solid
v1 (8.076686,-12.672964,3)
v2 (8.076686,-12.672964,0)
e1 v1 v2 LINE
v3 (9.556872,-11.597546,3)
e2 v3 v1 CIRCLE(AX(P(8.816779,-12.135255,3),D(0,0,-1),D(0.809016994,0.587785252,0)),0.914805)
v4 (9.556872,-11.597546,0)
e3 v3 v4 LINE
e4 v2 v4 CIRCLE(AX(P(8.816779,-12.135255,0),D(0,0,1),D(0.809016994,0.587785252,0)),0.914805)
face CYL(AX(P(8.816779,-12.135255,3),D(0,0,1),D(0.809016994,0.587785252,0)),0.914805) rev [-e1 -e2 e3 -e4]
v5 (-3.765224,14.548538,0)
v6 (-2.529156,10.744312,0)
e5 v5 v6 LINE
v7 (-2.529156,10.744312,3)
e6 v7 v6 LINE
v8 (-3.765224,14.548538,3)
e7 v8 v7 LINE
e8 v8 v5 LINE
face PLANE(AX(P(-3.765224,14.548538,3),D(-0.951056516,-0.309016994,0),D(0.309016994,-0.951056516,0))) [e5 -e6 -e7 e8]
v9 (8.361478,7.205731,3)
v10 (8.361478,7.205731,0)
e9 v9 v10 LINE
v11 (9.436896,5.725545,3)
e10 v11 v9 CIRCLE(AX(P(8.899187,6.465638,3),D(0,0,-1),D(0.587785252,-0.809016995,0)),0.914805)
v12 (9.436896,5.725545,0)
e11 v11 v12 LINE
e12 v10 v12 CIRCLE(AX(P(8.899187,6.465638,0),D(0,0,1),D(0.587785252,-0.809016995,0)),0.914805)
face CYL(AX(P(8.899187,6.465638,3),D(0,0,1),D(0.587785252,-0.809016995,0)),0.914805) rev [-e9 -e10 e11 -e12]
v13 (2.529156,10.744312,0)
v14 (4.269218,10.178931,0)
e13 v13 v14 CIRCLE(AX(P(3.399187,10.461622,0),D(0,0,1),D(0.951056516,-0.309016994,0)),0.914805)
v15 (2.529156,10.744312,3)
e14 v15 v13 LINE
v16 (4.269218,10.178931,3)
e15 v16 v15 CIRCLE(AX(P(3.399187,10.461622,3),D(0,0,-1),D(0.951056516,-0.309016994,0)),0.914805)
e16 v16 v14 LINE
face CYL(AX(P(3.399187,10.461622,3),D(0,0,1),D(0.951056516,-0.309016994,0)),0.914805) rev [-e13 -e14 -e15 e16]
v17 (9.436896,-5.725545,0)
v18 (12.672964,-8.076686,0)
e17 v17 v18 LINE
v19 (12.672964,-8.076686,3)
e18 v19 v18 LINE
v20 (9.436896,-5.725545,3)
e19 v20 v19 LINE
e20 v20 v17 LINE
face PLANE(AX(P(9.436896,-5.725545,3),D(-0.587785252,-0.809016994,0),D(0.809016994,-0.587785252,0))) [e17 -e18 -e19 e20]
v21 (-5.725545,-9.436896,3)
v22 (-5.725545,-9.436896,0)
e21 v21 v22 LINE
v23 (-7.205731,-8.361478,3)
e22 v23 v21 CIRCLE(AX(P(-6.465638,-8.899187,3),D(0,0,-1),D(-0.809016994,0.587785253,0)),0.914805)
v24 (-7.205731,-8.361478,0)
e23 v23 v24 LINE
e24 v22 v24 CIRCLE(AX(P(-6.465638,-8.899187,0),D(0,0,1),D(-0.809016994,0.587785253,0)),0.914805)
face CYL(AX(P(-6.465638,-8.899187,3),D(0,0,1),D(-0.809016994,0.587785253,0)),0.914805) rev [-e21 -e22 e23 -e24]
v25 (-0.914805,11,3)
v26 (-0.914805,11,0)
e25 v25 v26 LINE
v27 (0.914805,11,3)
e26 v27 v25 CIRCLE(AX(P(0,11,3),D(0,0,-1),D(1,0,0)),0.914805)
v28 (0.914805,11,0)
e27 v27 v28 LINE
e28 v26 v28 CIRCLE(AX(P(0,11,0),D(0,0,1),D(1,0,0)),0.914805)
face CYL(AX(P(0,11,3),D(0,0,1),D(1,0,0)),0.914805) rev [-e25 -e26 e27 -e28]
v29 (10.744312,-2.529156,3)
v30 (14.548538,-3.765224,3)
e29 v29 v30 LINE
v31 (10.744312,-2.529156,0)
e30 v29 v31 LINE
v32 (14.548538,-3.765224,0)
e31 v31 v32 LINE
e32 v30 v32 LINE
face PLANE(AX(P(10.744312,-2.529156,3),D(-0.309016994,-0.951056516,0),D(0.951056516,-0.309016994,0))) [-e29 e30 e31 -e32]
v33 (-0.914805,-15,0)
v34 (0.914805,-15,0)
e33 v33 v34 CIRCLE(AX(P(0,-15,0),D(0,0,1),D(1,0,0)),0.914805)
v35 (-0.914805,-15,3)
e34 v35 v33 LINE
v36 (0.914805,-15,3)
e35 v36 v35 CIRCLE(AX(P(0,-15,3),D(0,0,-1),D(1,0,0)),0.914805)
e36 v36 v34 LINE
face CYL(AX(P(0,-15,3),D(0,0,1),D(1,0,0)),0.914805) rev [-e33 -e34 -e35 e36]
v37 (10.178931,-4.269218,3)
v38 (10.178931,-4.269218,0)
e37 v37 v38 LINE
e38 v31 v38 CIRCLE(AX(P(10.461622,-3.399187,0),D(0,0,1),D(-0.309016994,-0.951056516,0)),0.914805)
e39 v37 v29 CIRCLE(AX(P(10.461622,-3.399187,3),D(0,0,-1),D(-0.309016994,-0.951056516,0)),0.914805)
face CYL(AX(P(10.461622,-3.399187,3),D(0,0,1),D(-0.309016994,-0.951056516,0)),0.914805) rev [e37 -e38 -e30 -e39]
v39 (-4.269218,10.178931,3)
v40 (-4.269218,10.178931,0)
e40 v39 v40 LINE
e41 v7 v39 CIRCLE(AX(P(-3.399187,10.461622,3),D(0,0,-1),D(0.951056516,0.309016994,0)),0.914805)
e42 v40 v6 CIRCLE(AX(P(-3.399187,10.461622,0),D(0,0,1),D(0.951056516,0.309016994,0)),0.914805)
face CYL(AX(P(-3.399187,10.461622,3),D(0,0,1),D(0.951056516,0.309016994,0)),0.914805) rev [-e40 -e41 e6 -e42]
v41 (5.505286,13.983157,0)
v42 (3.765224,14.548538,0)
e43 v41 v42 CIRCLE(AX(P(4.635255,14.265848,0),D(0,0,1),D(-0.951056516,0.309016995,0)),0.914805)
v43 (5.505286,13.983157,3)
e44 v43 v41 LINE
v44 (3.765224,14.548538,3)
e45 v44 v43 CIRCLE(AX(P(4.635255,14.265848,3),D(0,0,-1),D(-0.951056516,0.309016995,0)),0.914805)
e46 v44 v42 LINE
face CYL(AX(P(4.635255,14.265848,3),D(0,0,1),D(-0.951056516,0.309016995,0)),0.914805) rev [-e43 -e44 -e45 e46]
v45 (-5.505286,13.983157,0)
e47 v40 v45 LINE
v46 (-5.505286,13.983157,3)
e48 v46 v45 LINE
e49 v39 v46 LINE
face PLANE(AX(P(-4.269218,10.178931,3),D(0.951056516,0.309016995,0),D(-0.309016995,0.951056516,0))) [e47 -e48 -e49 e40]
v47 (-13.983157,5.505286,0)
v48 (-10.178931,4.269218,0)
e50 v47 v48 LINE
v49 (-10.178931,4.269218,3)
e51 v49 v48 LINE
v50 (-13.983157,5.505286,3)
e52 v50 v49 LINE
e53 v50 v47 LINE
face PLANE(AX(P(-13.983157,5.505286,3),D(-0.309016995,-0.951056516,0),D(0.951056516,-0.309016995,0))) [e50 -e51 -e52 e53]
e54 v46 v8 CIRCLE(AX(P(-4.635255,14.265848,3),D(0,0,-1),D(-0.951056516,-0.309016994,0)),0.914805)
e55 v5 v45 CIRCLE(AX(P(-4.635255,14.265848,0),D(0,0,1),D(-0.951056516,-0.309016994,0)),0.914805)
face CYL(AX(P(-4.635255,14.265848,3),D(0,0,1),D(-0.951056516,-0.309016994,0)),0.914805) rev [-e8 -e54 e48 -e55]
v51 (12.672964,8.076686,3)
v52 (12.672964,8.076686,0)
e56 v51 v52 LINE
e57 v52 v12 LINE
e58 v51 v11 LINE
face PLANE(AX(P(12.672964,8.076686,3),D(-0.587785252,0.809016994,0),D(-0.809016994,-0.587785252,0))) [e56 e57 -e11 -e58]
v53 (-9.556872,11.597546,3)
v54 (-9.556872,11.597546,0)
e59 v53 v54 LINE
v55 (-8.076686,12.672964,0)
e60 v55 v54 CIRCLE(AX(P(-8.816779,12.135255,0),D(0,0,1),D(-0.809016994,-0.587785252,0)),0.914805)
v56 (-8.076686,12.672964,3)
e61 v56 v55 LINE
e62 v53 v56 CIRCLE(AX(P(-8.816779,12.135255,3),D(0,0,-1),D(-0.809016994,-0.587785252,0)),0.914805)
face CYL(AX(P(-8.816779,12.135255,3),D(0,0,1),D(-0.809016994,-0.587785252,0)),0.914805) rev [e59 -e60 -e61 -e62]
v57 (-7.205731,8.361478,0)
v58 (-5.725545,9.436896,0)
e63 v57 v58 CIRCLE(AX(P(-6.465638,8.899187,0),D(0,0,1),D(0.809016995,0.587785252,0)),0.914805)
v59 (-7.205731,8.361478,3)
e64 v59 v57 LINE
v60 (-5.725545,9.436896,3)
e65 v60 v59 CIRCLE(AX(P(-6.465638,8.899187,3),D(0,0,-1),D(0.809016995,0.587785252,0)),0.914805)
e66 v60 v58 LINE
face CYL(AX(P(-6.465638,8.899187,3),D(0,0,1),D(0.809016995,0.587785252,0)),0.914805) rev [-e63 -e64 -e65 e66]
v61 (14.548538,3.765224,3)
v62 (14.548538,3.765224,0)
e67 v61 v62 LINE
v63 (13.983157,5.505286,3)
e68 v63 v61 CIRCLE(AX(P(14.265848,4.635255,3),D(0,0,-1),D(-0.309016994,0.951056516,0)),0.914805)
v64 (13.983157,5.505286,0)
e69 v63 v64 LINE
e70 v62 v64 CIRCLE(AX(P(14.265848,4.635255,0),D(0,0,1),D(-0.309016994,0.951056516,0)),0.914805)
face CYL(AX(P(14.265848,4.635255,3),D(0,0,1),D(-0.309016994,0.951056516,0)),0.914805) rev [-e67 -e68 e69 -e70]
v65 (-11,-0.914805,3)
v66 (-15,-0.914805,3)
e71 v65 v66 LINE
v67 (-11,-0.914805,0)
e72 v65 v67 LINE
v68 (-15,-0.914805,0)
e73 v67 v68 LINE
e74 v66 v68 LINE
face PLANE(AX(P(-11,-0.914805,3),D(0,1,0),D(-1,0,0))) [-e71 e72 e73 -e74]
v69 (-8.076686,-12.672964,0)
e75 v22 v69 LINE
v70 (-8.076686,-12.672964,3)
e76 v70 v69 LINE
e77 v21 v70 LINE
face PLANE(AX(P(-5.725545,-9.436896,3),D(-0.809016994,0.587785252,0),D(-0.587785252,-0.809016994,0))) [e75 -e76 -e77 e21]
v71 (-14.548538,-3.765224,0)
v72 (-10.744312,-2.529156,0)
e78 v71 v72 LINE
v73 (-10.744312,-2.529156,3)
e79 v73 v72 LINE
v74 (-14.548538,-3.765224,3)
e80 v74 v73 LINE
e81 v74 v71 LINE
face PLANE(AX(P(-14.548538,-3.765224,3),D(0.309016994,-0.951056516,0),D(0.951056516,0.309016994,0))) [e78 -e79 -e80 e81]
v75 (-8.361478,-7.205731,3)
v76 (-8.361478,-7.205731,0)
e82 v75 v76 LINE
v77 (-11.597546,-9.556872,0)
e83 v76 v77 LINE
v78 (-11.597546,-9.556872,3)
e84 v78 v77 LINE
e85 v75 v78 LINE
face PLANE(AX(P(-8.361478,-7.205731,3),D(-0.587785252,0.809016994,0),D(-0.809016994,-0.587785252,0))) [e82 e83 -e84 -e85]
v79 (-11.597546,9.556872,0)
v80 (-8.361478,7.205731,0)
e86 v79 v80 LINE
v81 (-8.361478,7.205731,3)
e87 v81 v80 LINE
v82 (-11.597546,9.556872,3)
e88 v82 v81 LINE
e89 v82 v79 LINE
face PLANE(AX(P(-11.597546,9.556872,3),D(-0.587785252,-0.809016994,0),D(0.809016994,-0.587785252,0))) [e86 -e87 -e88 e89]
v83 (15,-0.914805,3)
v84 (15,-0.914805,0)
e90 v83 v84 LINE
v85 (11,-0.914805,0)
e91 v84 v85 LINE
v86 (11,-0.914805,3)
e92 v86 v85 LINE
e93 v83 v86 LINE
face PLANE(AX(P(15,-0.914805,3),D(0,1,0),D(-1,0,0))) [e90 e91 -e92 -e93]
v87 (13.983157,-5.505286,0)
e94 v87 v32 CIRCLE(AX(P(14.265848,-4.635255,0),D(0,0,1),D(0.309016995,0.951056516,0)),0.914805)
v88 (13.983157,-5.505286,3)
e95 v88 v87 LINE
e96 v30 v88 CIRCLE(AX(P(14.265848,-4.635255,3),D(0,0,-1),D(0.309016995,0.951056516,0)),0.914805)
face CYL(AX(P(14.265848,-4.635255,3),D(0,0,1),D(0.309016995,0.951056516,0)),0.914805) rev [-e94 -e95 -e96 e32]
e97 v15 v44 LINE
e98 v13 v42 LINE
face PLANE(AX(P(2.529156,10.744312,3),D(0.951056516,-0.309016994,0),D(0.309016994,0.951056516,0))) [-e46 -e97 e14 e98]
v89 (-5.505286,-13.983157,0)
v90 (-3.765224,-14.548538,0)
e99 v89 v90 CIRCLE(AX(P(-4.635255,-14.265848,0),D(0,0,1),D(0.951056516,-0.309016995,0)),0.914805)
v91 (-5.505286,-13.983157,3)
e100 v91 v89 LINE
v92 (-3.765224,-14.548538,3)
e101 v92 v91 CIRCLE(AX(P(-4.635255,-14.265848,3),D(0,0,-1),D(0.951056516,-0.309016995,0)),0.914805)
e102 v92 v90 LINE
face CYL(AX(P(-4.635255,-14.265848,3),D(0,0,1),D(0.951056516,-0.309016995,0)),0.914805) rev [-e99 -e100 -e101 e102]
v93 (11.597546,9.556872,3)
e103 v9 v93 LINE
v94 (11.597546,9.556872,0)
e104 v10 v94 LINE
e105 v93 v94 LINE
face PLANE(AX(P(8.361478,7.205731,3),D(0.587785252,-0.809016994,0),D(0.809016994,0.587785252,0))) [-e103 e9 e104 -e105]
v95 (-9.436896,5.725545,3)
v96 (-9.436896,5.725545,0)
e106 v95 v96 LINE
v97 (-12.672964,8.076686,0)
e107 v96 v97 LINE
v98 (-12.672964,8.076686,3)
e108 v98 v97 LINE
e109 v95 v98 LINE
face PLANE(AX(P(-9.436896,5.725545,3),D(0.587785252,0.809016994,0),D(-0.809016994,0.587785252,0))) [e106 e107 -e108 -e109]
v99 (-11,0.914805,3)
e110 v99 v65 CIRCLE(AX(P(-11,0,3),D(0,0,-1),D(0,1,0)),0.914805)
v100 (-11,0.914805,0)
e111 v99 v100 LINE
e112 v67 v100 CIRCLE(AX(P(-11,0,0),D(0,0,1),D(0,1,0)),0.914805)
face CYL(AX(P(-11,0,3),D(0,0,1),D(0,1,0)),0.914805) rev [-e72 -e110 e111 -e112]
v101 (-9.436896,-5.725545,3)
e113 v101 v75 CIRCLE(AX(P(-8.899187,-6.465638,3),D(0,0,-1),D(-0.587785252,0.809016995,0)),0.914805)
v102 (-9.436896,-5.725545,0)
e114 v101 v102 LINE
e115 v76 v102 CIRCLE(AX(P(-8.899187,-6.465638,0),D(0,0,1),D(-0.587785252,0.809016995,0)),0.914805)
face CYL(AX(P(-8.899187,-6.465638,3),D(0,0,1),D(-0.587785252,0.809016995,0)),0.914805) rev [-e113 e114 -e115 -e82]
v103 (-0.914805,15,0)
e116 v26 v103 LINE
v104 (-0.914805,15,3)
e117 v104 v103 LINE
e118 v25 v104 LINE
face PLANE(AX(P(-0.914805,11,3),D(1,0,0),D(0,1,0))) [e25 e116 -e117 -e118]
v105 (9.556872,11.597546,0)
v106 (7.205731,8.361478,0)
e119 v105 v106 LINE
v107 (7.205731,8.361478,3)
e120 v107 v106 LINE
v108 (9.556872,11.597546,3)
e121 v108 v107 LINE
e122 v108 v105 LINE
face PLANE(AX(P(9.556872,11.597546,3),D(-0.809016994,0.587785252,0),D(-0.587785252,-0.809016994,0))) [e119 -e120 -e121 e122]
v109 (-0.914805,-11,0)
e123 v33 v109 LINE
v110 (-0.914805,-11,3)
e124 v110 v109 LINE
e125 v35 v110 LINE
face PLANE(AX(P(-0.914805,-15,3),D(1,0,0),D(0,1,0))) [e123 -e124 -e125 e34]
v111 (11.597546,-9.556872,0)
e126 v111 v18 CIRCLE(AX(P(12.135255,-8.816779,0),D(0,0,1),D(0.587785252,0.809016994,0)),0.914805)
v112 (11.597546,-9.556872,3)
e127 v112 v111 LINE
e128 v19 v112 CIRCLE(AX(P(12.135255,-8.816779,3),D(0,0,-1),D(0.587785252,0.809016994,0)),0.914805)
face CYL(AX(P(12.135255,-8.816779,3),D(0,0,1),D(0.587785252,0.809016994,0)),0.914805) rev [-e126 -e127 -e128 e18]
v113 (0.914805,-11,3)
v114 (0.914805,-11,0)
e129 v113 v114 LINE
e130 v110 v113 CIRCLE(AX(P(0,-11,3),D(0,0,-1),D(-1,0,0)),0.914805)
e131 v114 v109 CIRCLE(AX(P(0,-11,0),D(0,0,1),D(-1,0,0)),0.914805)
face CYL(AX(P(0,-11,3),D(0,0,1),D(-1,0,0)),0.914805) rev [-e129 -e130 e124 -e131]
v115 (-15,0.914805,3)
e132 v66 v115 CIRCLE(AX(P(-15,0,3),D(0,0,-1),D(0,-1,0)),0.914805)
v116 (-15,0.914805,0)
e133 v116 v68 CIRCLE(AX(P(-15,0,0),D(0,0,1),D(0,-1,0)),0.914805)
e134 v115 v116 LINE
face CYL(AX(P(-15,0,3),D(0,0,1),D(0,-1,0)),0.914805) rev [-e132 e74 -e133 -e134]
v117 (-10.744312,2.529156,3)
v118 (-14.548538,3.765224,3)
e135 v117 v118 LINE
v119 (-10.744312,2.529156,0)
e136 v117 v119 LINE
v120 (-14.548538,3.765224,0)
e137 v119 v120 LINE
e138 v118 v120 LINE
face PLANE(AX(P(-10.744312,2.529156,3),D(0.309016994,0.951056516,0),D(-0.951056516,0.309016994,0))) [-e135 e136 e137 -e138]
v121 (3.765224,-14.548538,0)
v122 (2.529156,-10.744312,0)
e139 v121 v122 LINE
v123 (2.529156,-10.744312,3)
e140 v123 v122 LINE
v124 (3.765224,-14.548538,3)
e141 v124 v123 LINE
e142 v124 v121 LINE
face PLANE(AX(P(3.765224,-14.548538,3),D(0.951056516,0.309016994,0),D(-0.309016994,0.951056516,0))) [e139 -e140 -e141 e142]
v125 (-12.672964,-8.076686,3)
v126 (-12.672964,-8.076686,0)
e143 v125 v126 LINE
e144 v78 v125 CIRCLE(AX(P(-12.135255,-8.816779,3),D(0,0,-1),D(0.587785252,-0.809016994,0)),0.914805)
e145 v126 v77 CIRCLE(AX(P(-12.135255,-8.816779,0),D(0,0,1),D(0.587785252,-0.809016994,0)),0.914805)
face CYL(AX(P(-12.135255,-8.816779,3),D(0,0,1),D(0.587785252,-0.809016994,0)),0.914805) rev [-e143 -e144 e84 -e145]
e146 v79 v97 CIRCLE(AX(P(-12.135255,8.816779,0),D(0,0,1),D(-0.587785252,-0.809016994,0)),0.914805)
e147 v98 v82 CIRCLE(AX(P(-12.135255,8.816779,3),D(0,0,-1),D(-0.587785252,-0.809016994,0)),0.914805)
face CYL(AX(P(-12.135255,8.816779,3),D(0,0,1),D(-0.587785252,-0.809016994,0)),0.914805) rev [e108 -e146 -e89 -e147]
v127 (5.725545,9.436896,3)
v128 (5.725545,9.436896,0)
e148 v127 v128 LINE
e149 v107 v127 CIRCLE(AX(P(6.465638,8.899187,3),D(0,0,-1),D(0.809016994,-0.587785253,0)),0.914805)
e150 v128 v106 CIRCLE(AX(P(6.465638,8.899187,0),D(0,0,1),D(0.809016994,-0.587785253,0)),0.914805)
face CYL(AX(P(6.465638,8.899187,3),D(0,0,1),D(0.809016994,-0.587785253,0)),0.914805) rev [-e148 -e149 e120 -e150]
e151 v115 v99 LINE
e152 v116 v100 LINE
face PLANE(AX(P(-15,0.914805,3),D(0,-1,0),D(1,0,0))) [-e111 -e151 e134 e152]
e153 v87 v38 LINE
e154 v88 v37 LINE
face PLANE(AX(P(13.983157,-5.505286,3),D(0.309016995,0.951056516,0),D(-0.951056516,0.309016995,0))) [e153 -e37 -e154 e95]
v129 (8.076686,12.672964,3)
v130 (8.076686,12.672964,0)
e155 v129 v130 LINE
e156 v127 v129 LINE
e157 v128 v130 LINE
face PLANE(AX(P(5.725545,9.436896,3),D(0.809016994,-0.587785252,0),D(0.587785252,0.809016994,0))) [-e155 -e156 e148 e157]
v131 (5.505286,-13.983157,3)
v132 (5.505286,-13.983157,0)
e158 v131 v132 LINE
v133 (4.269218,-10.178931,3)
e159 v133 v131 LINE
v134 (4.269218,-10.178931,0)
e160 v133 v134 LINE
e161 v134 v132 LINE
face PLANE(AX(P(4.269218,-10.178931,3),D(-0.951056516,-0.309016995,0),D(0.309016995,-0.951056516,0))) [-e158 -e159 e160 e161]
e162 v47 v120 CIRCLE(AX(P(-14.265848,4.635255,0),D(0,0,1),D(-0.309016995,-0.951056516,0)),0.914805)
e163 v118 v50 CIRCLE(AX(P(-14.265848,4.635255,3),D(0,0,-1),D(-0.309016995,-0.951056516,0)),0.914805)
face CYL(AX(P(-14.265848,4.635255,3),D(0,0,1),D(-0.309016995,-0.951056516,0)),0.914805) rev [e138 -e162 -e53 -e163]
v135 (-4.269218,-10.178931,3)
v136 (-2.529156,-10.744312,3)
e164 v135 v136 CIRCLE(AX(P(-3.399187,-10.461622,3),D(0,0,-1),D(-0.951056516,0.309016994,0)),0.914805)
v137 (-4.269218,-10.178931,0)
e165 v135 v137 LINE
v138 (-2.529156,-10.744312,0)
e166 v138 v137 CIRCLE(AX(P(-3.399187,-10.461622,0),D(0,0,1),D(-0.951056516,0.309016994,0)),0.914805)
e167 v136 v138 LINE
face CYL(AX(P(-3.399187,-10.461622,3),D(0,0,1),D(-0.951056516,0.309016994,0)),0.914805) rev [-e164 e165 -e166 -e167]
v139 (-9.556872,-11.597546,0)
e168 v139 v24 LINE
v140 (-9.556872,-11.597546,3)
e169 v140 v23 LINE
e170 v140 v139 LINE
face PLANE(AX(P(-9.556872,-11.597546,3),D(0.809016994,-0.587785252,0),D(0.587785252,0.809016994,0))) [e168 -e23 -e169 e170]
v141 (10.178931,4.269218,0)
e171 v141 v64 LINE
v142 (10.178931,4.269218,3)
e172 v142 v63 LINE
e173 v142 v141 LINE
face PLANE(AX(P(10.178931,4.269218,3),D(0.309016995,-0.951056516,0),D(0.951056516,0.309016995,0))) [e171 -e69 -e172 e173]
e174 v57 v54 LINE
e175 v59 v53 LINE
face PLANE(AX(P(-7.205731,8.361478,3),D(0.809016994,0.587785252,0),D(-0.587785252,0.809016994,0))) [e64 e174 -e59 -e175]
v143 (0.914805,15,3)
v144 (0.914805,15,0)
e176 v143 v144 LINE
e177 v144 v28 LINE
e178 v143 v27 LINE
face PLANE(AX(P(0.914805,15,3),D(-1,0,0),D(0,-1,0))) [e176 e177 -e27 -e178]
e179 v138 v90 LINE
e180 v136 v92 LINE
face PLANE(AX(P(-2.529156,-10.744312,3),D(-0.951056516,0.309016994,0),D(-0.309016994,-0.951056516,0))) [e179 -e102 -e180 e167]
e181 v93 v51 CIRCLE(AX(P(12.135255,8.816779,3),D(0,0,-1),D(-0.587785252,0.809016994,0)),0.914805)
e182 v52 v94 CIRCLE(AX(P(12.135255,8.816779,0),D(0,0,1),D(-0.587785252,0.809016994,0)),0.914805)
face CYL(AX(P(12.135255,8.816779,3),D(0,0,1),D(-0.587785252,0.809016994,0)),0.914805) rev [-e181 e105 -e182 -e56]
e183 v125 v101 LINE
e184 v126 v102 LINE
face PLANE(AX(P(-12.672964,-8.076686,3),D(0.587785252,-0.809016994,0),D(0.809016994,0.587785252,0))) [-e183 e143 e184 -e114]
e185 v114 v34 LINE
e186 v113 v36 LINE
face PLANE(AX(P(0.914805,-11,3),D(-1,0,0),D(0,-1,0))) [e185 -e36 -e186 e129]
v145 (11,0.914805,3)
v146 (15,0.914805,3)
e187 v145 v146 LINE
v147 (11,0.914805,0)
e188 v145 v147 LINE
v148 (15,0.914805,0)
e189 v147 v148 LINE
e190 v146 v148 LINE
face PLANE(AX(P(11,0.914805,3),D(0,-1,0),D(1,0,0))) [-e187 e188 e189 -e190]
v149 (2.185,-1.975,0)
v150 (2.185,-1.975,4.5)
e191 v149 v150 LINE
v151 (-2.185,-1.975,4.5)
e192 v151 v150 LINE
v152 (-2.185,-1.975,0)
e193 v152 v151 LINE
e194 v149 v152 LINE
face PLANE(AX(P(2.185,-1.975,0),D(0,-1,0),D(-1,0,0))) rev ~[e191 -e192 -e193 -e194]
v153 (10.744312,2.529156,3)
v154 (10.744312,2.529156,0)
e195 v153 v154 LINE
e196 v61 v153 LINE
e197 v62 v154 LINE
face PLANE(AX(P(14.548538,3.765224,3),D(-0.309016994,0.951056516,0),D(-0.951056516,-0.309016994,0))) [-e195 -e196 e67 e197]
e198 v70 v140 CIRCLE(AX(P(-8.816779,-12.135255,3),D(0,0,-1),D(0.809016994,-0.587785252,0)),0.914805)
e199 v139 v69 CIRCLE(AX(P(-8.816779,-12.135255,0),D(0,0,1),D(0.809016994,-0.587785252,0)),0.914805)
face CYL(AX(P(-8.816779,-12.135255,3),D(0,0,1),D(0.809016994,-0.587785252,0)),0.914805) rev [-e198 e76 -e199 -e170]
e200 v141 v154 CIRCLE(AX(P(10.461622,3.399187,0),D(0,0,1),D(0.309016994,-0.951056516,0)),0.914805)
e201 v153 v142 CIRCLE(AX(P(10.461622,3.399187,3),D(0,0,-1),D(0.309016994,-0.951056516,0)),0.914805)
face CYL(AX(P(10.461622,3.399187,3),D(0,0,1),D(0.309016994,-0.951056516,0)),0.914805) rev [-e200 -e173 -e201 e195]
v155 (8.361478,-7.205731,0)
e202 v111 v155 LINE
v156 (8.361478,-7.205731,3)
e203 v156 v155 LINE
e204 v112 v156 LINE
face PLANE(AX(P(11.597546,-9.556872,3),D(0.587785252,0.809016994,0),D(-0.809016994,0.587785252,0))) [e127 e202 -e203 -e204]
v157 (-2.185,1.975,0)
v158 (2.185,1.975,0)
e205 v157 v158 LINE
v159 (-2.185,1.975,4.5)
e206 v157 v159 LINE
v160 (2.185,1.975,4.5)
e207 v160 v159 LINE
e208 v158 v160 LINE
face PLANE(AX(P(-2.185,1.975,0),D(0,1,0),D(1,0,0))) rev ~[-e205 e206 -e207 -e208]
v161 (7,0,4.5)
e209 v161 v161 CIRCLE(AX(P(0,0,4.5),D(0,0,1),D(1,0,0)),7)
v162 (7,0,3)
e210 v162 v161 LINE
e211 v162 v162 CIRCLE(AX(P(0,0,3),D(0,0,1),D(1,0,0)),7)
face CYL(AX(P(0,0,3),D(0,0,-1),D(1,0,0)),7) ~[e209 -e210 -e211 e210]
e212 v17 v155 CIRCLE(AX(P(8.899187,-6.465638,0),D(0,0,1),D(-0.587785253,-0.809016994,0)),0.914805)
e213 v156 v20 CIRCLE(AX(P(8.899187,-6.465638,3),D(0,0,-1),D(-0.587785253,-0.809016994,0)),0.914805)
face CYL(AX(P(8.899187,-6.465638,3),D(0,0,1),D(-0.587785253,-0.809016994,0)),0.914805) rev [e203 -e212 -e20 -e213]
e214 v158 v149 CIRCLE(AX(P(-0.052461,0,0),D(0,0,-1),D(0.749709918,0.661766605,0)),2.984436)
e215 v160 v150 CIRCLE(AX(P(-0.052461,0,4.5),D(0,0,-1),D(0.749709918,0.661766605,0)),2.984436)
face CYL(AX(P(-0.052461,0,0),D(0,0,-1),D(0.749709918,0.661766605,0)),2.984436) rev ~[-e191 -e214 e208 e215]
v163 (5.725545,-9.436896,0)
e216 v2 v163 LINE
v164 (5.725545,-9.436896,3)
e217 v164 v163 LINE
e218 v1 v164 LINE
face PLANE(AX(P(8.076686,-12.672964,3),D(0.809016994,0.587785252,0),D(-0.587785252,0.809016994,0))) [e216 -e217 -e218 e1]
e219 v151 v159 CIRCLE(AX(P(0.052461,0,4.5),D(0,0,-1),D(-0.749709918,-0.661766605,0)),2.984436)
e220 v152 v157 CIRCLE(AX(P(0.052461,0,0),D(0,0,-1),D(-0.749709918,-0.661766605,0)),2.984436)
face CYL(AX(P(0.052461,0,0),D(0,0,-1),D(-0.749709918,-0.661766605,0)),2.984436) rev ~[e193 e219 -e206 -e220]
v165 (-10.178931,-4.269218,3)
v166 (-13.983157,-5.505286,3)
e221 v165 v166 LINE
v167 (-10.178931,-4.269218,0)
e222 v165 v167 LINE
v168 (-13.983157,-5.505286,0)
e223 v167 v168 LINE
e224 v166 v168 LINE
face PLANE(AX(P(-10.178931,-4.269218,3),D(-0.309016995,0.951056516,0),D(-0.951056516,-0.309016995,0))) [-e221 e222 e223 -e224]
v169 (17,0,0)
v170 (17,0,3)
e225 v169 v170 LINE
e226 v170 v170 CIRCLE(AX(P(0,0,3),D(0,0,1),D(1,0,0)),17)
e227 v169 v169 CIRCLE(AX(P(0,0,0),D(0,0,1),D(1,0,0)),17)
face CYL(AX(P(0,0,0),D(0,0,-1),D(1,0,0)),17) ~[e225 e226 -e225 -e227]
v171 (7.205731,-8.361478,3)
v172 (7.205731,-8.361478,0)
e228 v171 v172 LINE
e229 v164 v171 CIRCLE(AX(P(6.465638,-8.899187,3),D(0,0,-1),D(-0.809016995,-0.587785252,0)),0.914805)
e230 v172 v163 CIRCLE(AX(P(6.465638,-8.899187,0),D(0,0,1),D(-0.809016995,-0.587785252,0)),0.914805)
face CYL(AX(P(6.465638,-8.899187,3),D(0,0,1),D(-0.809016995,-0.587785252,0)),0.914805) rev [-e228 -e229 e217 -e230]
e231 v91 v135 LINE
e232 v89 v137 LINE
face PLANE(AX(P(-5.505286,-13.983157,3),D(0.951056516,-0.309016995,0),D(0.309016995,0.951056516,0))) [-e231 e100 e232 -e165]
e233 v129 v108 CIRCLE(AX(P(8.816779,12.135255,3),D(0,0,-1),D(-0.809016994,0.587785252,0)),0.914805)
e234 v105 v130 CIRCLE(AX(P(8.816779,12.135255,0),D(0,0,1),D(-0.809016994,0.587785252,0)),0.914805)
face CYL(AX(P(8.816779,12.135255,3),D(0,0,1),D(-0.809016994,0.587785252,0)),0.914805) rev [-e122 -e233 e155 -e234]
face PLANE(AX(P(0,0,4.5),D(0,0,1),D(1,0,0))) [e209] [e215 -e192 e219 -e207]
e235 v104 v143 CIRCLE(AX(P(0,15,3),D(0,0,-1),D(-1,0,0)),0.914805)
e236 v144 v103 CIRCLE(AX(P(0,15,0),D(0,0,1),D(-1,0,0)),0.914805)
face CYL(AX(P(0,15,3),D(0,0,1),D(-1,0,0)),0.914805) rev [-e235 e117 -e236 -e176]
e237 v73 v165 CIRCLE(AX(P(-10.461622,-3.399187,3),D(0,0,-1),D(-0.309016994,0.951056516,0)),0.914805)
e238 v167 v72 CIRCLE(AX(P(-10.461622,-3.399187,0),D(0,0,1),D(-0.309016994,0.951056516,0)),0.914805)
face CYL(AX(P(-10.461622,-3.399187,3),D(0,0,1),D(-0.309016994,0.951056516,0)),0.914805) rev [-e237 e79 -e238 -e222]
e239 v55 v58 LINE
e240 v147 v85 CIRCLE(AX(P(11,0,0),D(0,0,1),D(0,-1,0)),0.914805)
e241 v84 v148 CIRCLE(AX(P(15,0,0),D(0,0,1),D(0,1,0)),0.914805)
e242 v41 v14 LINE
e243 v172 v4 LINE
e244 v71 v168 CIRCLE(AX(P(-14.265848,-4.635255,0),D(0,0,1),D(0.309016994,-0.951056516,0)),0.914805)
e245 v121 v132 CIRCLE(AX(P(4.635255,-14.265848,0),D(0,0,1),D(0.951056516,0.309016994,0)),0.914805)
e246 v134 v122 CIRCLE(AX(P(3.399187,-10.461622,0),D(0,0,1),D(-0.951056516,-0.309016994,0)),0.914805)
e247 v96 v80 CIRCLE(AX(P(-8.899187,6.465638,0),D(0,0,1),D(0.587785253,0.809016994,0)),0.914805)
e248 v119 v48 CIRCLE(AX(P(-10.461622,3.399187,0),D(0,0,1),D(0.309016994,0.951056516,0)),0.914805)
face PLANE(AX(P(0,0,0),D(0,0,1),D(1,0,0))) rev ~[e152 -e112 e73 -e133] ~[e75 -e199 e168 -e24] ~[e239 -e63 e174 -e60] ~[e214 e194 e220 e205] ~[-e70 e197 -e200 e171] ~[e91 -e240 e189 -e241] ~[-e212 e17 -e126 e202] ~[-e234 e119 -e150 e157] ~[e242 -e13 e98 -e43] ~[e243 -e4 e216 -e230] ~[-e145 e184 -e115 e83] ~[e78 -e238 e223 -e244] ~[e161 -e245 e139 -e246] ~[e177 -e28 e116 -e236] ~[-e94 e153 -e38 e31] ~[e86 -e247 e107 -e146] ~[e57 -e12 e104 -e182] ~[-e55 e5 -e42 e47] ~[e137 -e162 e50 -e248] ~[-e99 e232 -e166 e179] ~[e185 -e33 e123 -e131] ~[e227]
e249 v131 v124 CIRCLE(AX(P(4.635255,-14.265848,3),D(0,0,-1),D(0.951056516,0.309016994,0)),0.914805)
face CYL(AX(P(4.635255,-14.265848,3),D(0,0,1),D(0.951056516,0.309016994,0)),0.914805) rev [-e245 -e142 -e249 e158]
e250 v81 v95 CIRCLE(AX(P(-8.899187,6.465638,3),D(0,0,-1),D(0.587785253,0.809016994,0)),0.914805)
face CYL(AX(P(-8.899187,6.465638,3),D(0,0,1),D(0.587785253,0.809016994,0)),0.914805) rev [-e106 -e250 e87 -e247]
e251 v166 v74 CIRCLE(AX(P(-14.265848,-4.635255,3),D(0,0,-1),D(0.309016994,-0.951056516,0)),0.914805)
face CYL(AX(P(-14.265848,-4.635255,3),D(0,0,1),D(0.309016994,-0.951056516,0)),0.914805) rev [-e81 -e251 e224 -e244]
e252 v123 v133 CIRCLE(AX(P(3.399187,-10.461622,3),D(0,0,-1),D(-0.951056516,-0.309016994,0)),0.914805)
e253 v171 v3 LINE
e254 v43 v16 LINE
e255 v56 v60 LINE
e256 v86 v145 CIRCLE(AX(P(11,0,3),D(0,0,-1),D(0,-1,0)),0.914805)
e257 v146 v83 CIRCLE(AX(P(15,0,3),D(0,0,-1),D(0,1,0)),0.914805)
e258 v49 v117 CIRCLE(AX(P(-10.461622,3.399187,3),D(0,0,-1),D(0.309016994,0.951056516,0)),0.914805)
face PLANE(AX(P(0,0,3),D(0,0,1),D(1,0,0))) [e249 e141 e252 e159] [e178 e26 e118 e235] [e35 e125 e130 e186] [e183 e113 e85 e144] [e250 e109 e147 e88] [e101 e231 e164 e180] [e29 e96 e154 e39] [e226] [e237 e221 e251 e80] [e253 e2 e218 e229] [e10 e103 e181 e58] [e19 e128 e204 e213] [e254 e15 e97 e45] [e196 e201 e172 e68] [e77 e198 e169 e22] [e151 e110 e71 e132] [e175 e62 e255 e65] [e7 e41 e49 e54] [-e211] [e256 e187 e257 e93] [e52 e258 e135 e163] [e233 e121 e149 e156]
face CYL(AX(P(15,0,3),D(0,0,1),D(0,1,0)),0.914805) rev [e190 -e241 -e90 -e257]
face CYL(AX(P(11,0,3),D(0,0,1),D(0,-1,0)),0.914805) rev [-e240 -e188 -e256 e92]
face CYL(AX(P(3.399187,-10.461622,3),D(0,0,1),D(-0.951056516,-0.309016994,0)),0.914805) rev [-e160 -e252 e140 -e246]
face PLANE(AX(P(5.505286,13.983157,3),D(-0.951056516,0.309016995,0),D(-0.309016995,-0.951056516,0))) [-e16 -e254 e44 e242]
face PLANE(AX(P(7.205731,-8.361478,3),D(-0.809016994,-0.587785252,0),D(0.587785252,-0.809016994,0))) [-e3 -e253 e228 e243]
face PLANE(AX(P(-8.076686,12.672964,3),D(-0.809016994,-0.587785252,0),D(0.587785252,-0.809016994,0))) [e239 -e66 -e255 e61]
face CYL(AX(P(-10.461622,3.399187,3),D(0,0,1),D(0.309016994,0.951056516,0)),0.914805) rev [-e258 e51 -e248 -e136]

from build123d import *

# Parameters (mm, degrees)
SKETCH4_R           = 17
BOSS_EXTRUDE2_DEPTH = 3
SKETCH5_R           = 7
BOSS_EXTRUDE3_DEPTH = 1.5
CUT_EXTRUDE2_DEPTH  = 25.459149617
CUT_EXTRUDE3_DEPTH  = 25.228082879


with BuildPart() as part:
    # Sketch4 → Boss-Extrude2 (new body)
    with BuildSketch(Plane.XY):
        Circle(SKETCH4_R)
    extrude(amount=BOSS_EXTRUDE2_DEPTH)

    # Sketch5 → Boss-Extrude3 (add)
    with BuildSketch(Plane.XY.offset(3)):
        Circle(SKETCH5_R)
    extrude(amount=BOSS_EXTRUDE3_DEPTH)

    # Sketch3 → Cut-Extrude2 (cut, through all)
    with BuildSketch(Plane(origin=(0, 0, 0), x_dir=(-1, 0, 0), z_dir=(0, 0, 1))):
        with BuildLine():
            Line((-2.185, 1.975), (2.185, 1.975))
            ThreePointArc((2.185, 1.975), (2.931974702, 0), (2.185, -1.975))
            Line((2.185, -1.975), (-2.185, -1.975))
            ThreePointArc((-2.185, -1.975), (-2.931974702, 0), (-2.185, 1.975))
        make_face()
    extrude(amount=CUT_EXTRUDE2_DEPTH, mode=Mode.SUBTRACT)

    # Sketch6 → Cut-Extrude3 (cut, through all)
    with BuildSketch(Plane.XY.offset(3)):
        with BuildLine():
            Line((11, 0.914805145), (15, 0.914805145))
            ThreePointArc((15, 0.914805145), (15.914805145, 0), (15, -0.914805145))
            Line((15, -0.914805145), (11, -0.914805145))
            ThreePointArc((11, -0.914805145), (10.085194855, 0), (11, 0.914805145))
        make_face()
        with BuildLine():
            Line((10.744312015, -2.529155544), (14.548538081, -3.765223522))
            ThreePointArc((14.548538081, -3.765223522), (15.135879138, -4.917945252), (13.983157408, -5.50528631))
            Line((13.983157408, -5.50528631), (10.178931343, -4.269218332))
            ThreePointArc((10.178931343, -4.269218332), (9.591590285, -3.116496602), (10.744312015, -2.529155544))
        make_face()
        with BuildLine():
            Line((9.436895911, -5.725544867), (12.672963888, -8.076685876))
            ThreePointArc((12.672963888, -8.076685876), (12.875347824, -9.354487757), (11.597545943, -9.556871693))
            Line((11.597545943, -9.556871693), (8.361477965, -7.205730684))
            ThreePointArc((8.361477965, -7.205730684), (8.15909403, -5.927928803), (9.436895911, -5.725544867))
        make_face()
        with BuildLine():
            Line((7.205730684, -8.361477965), (9.556871693, -11.597545943))
            ThreePointArc((9.556871693, -11.597545943), (9.354487757, -12.875347824), (8.076685876, -12.672963888))
            Line((8.076685876, -12.672963888), (5.725544867, -9.436895911))
            ThreePointArc((5.725544867, -9.436895911), (5.927928803, -8.15909403), (7.205730684, -8.361477965))
        make_face()
        with BuildLine():
            Line((4.269218332, -10.178931343), (5.50528631, -13.983157408))
            ThreePointArc((5.50528631, -13.983157408), (4.917945252, -15.135879138), (3.765223522, -14.548538081))
            Line((3.765223522, -14.548538081), (2.529155544, -10.744312015))
            ThreePointArc((2.529155544, -10.744312015), (3.116496602, -9.591590285), (4.269218332, -10.178931343))
        make_face()
        with BuildLine():
            Line((0.914805145, -11), (0.914805145, -15))
            ThreePointArc((0.914805145, -15), (0, -15.914805145), (-0.914805145, -15))
            Line((-0.914805145, -15), (-0.914805145, -11))
            ThreePointArc((-0.914805145, -11), (0, -10.085194855), (0.914805145, -11))
        make_face()
        with BuildLine():
            Line((-2.529155544, -10.744312015), (-3.765223522, -14.548538081))
            ThreePointArc((-3.765223522, -14.548538081), (-4.917945252, -15.135879138), (-5.50528631, -13.983157408))
            Line((-5.50528631, -13.983157408), (-4.269218332, -10.178931343))
            ThreePointArc((-4.269218332, -10.178931343), (-3.116496602, -9.591590285), (-2.529155544, -10.744312015))
        make_face()
        with BuildLine():
            Line((-5.725544867, -9.436895911), (-8.076685876, -12.672963888))
            ThreePointArc((-8.076685876, -12.672963888), (-9.354487757, -12.875347824), (-9.556871693, -11.597545943))
            Line((-9.556871693, -11.597545943), (-7.205730684, -8.361477965))
            ThreePointArc((-7.205730684, -8.361477965), (-5.927928803, -8.15909403), (-5.725544867, -9.436895911))
        make_face()
        with BuildLine():
            Line((-8.361477965, -7.205730684), (-11.597545943, -9.556871693))
            ThreePointArc((-11.597545943, -9.556871693), (-12.875347824, -9.354487757), (-12.672963888, -8.076685876))
            Line((-12.672963888, -8.076685876), (-9.436895911, -5.725544867))
            ThreePointArc((-9.436895911, -5.725544867), (-8.15909403, -5.927928803), (-8.361477965, -7.205730684))
        make_face()
        with BuildLine():
            Line((-10.178931343, -4.269218332), (-13.983157408, -5.50528631))
            ThreePointArc((-13.983157408, -5.50528631), (-15.135879138, -4.917945252), (-14.548538081, -3.765223522))
            Line((-14.548538081, -3.765223522), (-10.744312015, -2.529155544))
            ThreePointArc((-10.744312015, -2.529155544), (-9.591590285, -3.116496602), (-10.178931343, -4.269218332))
        make_face()
        with BuildLine():
            Line((-11, -0.914805145), (-15, -0.914805145))
            ThreePointArc((-15, -0.914805145), (-15.914805145, 0), (-15, 0.914805145))
            Line((-15, 0.914805145), (-11, 0.914805145))
            ThreePointArc((-11, 0.914805145), (-10.085194855, 0), (-11, -0.914805145))
        make_face()
        with BuildLine():
            Line((-10.744312015, 2.529155544), (-14.548538081, 3.765223522))
            ThreePointArc((-14.548538081, 3.765223522), (-15.135879138, 4.917945252), (-13.983157408, 5.50528631))
            Line((-13.983157408, 5.50528631), (-10.178931343, 4.269218332))
            ThreePointArc((-10.178931343, 4.269218332), (-9.591590285, 3.116496602), (-10.744312015, 2.529155544))
        make_face()
        with BuildLine():
            Line((-9.436895911, 5.725544867), (-12.672963888, 8.076685876))
            ThreePointArc((-12.672963888, 8.076685876), (-12.875347824, 9.354487757), (-11.597545943, 9.556871693))
            Line((-11.597545943, 9.556871693), (-8.361477965, 7.205730684))
            ThreePointArc((-8.361477965, 7.205730684), (-8.15909403, 5.927928803), (-9.436895911, 5.725544867))
        make_face()
        with BuildLine():
            Line((-7.205730684, 8.361477965), (-9.556871693, 11.597545943))
            ThreePointArc((-9.556871693, 11.597545943), (-9.354487757, 12.875347824), (-8.076685876, 12.672963888))
            Line((-8.076685876, 12.672963888), (-5.725544867, 9.436895911))
            ThreePointArc((-5.725544867, 9.436895911), (-5.927928803, 8.15909403), (-7.205730684, 8.361477965))
        make_face()
        with BuildLine():
            Line((-4.269218332, 10.178931343), (-5.50528631, 13.983157408))
            ThreePointArc((-5.50528631, 13.983157408), (-4.917945252, 15.135879138), (-3.765223522, 14.548538081))
            Line((-3.765223522, 14.548538081), (-2.529155544, 10.744312015))
            ThreePointArc((-2.529155544, 10.744312015), (-3.116496602, 9.591590285), (-4.269218332, 10.178931343))
        make_face()
        with BuildLine():
            Line((-0.914805145, 11), (-0.914805145, 15))
            ThreePointArc((-0.914805145, 15), (0, 15.914805145), (0.914805145, 15))
            Line((0.914805145, 15), (0.914805145, 11))
            ThreePointArc((0.914805145, 11), (0, 10.085194855), (-0.914805145, 11))
        make_face()
        with BuildLine():
            Line((2.529155544, 10.744312015), (3.765223522, 14.548538081))
            ThreePointArc((3.765223522, 14.548538081), (4.917945252, 15.135879138), (5.50528631, 13.983157408))
            Line((5.50528631, 13.983157408), (4.269218332, 10.178931343))
            ThreePointArc((4.269218332, 10.178931343), (3.116496602, 9.591590285), (2.529155544, 10.744312015))
        make_face()
        with BuildLine():
            Line((5.725544867, 9.436895911), (8.076685876, 12.672963888))
            ThreePointArc((8.076685876, 12.672963888), (9.354487757, 12.875347824), (9.556871693, 11.597545943))
            Line((9.556871693, 11.597545943), (7.205730684, 8.361477965))
            ThreePointArc((7.205730684, 8.361477965), (5.927928803, 8.15909403), (5.725544867, 9.436895911))
        make_face()
        with BuildLine():
            Line((8.361477965, 7.205730684), (11.597545943, 9.556871693))
            ThreePointArc((11.597545943, 9.556871693), (12.875347824, 9.354487757), (12.672963888, 8.076685876))
            Line((12.672963888, 8.076685876), (9.436895911, 5.725544867))
            ThreePointArc((9.436895911, 5.725544867), (8.15909403, 5.927928803), (8.361477965, 7.205730684))
        make_face()
        with BuildLine():
            Line((10.178931343, 4.269218332), (13.983157408, 5.50528631))
            ThreePointArc((13.983157408, 5.50528631), (15.135879138, 4.917945252), (14.548538081, 3.765223522))
            Line((14.548538081, 3.765223522), (10.744312015, 2.529155544))
            ThreePointArc((10.744312015, 2.529155544), (9.591590285, 3.116496602), (10.178931343, 4.269218332))
        make_face()
    extrude(amount=-CUT_EXTRUDE3_DEPTH, mode=Mode.SUBTRACT)


solid = part.part
